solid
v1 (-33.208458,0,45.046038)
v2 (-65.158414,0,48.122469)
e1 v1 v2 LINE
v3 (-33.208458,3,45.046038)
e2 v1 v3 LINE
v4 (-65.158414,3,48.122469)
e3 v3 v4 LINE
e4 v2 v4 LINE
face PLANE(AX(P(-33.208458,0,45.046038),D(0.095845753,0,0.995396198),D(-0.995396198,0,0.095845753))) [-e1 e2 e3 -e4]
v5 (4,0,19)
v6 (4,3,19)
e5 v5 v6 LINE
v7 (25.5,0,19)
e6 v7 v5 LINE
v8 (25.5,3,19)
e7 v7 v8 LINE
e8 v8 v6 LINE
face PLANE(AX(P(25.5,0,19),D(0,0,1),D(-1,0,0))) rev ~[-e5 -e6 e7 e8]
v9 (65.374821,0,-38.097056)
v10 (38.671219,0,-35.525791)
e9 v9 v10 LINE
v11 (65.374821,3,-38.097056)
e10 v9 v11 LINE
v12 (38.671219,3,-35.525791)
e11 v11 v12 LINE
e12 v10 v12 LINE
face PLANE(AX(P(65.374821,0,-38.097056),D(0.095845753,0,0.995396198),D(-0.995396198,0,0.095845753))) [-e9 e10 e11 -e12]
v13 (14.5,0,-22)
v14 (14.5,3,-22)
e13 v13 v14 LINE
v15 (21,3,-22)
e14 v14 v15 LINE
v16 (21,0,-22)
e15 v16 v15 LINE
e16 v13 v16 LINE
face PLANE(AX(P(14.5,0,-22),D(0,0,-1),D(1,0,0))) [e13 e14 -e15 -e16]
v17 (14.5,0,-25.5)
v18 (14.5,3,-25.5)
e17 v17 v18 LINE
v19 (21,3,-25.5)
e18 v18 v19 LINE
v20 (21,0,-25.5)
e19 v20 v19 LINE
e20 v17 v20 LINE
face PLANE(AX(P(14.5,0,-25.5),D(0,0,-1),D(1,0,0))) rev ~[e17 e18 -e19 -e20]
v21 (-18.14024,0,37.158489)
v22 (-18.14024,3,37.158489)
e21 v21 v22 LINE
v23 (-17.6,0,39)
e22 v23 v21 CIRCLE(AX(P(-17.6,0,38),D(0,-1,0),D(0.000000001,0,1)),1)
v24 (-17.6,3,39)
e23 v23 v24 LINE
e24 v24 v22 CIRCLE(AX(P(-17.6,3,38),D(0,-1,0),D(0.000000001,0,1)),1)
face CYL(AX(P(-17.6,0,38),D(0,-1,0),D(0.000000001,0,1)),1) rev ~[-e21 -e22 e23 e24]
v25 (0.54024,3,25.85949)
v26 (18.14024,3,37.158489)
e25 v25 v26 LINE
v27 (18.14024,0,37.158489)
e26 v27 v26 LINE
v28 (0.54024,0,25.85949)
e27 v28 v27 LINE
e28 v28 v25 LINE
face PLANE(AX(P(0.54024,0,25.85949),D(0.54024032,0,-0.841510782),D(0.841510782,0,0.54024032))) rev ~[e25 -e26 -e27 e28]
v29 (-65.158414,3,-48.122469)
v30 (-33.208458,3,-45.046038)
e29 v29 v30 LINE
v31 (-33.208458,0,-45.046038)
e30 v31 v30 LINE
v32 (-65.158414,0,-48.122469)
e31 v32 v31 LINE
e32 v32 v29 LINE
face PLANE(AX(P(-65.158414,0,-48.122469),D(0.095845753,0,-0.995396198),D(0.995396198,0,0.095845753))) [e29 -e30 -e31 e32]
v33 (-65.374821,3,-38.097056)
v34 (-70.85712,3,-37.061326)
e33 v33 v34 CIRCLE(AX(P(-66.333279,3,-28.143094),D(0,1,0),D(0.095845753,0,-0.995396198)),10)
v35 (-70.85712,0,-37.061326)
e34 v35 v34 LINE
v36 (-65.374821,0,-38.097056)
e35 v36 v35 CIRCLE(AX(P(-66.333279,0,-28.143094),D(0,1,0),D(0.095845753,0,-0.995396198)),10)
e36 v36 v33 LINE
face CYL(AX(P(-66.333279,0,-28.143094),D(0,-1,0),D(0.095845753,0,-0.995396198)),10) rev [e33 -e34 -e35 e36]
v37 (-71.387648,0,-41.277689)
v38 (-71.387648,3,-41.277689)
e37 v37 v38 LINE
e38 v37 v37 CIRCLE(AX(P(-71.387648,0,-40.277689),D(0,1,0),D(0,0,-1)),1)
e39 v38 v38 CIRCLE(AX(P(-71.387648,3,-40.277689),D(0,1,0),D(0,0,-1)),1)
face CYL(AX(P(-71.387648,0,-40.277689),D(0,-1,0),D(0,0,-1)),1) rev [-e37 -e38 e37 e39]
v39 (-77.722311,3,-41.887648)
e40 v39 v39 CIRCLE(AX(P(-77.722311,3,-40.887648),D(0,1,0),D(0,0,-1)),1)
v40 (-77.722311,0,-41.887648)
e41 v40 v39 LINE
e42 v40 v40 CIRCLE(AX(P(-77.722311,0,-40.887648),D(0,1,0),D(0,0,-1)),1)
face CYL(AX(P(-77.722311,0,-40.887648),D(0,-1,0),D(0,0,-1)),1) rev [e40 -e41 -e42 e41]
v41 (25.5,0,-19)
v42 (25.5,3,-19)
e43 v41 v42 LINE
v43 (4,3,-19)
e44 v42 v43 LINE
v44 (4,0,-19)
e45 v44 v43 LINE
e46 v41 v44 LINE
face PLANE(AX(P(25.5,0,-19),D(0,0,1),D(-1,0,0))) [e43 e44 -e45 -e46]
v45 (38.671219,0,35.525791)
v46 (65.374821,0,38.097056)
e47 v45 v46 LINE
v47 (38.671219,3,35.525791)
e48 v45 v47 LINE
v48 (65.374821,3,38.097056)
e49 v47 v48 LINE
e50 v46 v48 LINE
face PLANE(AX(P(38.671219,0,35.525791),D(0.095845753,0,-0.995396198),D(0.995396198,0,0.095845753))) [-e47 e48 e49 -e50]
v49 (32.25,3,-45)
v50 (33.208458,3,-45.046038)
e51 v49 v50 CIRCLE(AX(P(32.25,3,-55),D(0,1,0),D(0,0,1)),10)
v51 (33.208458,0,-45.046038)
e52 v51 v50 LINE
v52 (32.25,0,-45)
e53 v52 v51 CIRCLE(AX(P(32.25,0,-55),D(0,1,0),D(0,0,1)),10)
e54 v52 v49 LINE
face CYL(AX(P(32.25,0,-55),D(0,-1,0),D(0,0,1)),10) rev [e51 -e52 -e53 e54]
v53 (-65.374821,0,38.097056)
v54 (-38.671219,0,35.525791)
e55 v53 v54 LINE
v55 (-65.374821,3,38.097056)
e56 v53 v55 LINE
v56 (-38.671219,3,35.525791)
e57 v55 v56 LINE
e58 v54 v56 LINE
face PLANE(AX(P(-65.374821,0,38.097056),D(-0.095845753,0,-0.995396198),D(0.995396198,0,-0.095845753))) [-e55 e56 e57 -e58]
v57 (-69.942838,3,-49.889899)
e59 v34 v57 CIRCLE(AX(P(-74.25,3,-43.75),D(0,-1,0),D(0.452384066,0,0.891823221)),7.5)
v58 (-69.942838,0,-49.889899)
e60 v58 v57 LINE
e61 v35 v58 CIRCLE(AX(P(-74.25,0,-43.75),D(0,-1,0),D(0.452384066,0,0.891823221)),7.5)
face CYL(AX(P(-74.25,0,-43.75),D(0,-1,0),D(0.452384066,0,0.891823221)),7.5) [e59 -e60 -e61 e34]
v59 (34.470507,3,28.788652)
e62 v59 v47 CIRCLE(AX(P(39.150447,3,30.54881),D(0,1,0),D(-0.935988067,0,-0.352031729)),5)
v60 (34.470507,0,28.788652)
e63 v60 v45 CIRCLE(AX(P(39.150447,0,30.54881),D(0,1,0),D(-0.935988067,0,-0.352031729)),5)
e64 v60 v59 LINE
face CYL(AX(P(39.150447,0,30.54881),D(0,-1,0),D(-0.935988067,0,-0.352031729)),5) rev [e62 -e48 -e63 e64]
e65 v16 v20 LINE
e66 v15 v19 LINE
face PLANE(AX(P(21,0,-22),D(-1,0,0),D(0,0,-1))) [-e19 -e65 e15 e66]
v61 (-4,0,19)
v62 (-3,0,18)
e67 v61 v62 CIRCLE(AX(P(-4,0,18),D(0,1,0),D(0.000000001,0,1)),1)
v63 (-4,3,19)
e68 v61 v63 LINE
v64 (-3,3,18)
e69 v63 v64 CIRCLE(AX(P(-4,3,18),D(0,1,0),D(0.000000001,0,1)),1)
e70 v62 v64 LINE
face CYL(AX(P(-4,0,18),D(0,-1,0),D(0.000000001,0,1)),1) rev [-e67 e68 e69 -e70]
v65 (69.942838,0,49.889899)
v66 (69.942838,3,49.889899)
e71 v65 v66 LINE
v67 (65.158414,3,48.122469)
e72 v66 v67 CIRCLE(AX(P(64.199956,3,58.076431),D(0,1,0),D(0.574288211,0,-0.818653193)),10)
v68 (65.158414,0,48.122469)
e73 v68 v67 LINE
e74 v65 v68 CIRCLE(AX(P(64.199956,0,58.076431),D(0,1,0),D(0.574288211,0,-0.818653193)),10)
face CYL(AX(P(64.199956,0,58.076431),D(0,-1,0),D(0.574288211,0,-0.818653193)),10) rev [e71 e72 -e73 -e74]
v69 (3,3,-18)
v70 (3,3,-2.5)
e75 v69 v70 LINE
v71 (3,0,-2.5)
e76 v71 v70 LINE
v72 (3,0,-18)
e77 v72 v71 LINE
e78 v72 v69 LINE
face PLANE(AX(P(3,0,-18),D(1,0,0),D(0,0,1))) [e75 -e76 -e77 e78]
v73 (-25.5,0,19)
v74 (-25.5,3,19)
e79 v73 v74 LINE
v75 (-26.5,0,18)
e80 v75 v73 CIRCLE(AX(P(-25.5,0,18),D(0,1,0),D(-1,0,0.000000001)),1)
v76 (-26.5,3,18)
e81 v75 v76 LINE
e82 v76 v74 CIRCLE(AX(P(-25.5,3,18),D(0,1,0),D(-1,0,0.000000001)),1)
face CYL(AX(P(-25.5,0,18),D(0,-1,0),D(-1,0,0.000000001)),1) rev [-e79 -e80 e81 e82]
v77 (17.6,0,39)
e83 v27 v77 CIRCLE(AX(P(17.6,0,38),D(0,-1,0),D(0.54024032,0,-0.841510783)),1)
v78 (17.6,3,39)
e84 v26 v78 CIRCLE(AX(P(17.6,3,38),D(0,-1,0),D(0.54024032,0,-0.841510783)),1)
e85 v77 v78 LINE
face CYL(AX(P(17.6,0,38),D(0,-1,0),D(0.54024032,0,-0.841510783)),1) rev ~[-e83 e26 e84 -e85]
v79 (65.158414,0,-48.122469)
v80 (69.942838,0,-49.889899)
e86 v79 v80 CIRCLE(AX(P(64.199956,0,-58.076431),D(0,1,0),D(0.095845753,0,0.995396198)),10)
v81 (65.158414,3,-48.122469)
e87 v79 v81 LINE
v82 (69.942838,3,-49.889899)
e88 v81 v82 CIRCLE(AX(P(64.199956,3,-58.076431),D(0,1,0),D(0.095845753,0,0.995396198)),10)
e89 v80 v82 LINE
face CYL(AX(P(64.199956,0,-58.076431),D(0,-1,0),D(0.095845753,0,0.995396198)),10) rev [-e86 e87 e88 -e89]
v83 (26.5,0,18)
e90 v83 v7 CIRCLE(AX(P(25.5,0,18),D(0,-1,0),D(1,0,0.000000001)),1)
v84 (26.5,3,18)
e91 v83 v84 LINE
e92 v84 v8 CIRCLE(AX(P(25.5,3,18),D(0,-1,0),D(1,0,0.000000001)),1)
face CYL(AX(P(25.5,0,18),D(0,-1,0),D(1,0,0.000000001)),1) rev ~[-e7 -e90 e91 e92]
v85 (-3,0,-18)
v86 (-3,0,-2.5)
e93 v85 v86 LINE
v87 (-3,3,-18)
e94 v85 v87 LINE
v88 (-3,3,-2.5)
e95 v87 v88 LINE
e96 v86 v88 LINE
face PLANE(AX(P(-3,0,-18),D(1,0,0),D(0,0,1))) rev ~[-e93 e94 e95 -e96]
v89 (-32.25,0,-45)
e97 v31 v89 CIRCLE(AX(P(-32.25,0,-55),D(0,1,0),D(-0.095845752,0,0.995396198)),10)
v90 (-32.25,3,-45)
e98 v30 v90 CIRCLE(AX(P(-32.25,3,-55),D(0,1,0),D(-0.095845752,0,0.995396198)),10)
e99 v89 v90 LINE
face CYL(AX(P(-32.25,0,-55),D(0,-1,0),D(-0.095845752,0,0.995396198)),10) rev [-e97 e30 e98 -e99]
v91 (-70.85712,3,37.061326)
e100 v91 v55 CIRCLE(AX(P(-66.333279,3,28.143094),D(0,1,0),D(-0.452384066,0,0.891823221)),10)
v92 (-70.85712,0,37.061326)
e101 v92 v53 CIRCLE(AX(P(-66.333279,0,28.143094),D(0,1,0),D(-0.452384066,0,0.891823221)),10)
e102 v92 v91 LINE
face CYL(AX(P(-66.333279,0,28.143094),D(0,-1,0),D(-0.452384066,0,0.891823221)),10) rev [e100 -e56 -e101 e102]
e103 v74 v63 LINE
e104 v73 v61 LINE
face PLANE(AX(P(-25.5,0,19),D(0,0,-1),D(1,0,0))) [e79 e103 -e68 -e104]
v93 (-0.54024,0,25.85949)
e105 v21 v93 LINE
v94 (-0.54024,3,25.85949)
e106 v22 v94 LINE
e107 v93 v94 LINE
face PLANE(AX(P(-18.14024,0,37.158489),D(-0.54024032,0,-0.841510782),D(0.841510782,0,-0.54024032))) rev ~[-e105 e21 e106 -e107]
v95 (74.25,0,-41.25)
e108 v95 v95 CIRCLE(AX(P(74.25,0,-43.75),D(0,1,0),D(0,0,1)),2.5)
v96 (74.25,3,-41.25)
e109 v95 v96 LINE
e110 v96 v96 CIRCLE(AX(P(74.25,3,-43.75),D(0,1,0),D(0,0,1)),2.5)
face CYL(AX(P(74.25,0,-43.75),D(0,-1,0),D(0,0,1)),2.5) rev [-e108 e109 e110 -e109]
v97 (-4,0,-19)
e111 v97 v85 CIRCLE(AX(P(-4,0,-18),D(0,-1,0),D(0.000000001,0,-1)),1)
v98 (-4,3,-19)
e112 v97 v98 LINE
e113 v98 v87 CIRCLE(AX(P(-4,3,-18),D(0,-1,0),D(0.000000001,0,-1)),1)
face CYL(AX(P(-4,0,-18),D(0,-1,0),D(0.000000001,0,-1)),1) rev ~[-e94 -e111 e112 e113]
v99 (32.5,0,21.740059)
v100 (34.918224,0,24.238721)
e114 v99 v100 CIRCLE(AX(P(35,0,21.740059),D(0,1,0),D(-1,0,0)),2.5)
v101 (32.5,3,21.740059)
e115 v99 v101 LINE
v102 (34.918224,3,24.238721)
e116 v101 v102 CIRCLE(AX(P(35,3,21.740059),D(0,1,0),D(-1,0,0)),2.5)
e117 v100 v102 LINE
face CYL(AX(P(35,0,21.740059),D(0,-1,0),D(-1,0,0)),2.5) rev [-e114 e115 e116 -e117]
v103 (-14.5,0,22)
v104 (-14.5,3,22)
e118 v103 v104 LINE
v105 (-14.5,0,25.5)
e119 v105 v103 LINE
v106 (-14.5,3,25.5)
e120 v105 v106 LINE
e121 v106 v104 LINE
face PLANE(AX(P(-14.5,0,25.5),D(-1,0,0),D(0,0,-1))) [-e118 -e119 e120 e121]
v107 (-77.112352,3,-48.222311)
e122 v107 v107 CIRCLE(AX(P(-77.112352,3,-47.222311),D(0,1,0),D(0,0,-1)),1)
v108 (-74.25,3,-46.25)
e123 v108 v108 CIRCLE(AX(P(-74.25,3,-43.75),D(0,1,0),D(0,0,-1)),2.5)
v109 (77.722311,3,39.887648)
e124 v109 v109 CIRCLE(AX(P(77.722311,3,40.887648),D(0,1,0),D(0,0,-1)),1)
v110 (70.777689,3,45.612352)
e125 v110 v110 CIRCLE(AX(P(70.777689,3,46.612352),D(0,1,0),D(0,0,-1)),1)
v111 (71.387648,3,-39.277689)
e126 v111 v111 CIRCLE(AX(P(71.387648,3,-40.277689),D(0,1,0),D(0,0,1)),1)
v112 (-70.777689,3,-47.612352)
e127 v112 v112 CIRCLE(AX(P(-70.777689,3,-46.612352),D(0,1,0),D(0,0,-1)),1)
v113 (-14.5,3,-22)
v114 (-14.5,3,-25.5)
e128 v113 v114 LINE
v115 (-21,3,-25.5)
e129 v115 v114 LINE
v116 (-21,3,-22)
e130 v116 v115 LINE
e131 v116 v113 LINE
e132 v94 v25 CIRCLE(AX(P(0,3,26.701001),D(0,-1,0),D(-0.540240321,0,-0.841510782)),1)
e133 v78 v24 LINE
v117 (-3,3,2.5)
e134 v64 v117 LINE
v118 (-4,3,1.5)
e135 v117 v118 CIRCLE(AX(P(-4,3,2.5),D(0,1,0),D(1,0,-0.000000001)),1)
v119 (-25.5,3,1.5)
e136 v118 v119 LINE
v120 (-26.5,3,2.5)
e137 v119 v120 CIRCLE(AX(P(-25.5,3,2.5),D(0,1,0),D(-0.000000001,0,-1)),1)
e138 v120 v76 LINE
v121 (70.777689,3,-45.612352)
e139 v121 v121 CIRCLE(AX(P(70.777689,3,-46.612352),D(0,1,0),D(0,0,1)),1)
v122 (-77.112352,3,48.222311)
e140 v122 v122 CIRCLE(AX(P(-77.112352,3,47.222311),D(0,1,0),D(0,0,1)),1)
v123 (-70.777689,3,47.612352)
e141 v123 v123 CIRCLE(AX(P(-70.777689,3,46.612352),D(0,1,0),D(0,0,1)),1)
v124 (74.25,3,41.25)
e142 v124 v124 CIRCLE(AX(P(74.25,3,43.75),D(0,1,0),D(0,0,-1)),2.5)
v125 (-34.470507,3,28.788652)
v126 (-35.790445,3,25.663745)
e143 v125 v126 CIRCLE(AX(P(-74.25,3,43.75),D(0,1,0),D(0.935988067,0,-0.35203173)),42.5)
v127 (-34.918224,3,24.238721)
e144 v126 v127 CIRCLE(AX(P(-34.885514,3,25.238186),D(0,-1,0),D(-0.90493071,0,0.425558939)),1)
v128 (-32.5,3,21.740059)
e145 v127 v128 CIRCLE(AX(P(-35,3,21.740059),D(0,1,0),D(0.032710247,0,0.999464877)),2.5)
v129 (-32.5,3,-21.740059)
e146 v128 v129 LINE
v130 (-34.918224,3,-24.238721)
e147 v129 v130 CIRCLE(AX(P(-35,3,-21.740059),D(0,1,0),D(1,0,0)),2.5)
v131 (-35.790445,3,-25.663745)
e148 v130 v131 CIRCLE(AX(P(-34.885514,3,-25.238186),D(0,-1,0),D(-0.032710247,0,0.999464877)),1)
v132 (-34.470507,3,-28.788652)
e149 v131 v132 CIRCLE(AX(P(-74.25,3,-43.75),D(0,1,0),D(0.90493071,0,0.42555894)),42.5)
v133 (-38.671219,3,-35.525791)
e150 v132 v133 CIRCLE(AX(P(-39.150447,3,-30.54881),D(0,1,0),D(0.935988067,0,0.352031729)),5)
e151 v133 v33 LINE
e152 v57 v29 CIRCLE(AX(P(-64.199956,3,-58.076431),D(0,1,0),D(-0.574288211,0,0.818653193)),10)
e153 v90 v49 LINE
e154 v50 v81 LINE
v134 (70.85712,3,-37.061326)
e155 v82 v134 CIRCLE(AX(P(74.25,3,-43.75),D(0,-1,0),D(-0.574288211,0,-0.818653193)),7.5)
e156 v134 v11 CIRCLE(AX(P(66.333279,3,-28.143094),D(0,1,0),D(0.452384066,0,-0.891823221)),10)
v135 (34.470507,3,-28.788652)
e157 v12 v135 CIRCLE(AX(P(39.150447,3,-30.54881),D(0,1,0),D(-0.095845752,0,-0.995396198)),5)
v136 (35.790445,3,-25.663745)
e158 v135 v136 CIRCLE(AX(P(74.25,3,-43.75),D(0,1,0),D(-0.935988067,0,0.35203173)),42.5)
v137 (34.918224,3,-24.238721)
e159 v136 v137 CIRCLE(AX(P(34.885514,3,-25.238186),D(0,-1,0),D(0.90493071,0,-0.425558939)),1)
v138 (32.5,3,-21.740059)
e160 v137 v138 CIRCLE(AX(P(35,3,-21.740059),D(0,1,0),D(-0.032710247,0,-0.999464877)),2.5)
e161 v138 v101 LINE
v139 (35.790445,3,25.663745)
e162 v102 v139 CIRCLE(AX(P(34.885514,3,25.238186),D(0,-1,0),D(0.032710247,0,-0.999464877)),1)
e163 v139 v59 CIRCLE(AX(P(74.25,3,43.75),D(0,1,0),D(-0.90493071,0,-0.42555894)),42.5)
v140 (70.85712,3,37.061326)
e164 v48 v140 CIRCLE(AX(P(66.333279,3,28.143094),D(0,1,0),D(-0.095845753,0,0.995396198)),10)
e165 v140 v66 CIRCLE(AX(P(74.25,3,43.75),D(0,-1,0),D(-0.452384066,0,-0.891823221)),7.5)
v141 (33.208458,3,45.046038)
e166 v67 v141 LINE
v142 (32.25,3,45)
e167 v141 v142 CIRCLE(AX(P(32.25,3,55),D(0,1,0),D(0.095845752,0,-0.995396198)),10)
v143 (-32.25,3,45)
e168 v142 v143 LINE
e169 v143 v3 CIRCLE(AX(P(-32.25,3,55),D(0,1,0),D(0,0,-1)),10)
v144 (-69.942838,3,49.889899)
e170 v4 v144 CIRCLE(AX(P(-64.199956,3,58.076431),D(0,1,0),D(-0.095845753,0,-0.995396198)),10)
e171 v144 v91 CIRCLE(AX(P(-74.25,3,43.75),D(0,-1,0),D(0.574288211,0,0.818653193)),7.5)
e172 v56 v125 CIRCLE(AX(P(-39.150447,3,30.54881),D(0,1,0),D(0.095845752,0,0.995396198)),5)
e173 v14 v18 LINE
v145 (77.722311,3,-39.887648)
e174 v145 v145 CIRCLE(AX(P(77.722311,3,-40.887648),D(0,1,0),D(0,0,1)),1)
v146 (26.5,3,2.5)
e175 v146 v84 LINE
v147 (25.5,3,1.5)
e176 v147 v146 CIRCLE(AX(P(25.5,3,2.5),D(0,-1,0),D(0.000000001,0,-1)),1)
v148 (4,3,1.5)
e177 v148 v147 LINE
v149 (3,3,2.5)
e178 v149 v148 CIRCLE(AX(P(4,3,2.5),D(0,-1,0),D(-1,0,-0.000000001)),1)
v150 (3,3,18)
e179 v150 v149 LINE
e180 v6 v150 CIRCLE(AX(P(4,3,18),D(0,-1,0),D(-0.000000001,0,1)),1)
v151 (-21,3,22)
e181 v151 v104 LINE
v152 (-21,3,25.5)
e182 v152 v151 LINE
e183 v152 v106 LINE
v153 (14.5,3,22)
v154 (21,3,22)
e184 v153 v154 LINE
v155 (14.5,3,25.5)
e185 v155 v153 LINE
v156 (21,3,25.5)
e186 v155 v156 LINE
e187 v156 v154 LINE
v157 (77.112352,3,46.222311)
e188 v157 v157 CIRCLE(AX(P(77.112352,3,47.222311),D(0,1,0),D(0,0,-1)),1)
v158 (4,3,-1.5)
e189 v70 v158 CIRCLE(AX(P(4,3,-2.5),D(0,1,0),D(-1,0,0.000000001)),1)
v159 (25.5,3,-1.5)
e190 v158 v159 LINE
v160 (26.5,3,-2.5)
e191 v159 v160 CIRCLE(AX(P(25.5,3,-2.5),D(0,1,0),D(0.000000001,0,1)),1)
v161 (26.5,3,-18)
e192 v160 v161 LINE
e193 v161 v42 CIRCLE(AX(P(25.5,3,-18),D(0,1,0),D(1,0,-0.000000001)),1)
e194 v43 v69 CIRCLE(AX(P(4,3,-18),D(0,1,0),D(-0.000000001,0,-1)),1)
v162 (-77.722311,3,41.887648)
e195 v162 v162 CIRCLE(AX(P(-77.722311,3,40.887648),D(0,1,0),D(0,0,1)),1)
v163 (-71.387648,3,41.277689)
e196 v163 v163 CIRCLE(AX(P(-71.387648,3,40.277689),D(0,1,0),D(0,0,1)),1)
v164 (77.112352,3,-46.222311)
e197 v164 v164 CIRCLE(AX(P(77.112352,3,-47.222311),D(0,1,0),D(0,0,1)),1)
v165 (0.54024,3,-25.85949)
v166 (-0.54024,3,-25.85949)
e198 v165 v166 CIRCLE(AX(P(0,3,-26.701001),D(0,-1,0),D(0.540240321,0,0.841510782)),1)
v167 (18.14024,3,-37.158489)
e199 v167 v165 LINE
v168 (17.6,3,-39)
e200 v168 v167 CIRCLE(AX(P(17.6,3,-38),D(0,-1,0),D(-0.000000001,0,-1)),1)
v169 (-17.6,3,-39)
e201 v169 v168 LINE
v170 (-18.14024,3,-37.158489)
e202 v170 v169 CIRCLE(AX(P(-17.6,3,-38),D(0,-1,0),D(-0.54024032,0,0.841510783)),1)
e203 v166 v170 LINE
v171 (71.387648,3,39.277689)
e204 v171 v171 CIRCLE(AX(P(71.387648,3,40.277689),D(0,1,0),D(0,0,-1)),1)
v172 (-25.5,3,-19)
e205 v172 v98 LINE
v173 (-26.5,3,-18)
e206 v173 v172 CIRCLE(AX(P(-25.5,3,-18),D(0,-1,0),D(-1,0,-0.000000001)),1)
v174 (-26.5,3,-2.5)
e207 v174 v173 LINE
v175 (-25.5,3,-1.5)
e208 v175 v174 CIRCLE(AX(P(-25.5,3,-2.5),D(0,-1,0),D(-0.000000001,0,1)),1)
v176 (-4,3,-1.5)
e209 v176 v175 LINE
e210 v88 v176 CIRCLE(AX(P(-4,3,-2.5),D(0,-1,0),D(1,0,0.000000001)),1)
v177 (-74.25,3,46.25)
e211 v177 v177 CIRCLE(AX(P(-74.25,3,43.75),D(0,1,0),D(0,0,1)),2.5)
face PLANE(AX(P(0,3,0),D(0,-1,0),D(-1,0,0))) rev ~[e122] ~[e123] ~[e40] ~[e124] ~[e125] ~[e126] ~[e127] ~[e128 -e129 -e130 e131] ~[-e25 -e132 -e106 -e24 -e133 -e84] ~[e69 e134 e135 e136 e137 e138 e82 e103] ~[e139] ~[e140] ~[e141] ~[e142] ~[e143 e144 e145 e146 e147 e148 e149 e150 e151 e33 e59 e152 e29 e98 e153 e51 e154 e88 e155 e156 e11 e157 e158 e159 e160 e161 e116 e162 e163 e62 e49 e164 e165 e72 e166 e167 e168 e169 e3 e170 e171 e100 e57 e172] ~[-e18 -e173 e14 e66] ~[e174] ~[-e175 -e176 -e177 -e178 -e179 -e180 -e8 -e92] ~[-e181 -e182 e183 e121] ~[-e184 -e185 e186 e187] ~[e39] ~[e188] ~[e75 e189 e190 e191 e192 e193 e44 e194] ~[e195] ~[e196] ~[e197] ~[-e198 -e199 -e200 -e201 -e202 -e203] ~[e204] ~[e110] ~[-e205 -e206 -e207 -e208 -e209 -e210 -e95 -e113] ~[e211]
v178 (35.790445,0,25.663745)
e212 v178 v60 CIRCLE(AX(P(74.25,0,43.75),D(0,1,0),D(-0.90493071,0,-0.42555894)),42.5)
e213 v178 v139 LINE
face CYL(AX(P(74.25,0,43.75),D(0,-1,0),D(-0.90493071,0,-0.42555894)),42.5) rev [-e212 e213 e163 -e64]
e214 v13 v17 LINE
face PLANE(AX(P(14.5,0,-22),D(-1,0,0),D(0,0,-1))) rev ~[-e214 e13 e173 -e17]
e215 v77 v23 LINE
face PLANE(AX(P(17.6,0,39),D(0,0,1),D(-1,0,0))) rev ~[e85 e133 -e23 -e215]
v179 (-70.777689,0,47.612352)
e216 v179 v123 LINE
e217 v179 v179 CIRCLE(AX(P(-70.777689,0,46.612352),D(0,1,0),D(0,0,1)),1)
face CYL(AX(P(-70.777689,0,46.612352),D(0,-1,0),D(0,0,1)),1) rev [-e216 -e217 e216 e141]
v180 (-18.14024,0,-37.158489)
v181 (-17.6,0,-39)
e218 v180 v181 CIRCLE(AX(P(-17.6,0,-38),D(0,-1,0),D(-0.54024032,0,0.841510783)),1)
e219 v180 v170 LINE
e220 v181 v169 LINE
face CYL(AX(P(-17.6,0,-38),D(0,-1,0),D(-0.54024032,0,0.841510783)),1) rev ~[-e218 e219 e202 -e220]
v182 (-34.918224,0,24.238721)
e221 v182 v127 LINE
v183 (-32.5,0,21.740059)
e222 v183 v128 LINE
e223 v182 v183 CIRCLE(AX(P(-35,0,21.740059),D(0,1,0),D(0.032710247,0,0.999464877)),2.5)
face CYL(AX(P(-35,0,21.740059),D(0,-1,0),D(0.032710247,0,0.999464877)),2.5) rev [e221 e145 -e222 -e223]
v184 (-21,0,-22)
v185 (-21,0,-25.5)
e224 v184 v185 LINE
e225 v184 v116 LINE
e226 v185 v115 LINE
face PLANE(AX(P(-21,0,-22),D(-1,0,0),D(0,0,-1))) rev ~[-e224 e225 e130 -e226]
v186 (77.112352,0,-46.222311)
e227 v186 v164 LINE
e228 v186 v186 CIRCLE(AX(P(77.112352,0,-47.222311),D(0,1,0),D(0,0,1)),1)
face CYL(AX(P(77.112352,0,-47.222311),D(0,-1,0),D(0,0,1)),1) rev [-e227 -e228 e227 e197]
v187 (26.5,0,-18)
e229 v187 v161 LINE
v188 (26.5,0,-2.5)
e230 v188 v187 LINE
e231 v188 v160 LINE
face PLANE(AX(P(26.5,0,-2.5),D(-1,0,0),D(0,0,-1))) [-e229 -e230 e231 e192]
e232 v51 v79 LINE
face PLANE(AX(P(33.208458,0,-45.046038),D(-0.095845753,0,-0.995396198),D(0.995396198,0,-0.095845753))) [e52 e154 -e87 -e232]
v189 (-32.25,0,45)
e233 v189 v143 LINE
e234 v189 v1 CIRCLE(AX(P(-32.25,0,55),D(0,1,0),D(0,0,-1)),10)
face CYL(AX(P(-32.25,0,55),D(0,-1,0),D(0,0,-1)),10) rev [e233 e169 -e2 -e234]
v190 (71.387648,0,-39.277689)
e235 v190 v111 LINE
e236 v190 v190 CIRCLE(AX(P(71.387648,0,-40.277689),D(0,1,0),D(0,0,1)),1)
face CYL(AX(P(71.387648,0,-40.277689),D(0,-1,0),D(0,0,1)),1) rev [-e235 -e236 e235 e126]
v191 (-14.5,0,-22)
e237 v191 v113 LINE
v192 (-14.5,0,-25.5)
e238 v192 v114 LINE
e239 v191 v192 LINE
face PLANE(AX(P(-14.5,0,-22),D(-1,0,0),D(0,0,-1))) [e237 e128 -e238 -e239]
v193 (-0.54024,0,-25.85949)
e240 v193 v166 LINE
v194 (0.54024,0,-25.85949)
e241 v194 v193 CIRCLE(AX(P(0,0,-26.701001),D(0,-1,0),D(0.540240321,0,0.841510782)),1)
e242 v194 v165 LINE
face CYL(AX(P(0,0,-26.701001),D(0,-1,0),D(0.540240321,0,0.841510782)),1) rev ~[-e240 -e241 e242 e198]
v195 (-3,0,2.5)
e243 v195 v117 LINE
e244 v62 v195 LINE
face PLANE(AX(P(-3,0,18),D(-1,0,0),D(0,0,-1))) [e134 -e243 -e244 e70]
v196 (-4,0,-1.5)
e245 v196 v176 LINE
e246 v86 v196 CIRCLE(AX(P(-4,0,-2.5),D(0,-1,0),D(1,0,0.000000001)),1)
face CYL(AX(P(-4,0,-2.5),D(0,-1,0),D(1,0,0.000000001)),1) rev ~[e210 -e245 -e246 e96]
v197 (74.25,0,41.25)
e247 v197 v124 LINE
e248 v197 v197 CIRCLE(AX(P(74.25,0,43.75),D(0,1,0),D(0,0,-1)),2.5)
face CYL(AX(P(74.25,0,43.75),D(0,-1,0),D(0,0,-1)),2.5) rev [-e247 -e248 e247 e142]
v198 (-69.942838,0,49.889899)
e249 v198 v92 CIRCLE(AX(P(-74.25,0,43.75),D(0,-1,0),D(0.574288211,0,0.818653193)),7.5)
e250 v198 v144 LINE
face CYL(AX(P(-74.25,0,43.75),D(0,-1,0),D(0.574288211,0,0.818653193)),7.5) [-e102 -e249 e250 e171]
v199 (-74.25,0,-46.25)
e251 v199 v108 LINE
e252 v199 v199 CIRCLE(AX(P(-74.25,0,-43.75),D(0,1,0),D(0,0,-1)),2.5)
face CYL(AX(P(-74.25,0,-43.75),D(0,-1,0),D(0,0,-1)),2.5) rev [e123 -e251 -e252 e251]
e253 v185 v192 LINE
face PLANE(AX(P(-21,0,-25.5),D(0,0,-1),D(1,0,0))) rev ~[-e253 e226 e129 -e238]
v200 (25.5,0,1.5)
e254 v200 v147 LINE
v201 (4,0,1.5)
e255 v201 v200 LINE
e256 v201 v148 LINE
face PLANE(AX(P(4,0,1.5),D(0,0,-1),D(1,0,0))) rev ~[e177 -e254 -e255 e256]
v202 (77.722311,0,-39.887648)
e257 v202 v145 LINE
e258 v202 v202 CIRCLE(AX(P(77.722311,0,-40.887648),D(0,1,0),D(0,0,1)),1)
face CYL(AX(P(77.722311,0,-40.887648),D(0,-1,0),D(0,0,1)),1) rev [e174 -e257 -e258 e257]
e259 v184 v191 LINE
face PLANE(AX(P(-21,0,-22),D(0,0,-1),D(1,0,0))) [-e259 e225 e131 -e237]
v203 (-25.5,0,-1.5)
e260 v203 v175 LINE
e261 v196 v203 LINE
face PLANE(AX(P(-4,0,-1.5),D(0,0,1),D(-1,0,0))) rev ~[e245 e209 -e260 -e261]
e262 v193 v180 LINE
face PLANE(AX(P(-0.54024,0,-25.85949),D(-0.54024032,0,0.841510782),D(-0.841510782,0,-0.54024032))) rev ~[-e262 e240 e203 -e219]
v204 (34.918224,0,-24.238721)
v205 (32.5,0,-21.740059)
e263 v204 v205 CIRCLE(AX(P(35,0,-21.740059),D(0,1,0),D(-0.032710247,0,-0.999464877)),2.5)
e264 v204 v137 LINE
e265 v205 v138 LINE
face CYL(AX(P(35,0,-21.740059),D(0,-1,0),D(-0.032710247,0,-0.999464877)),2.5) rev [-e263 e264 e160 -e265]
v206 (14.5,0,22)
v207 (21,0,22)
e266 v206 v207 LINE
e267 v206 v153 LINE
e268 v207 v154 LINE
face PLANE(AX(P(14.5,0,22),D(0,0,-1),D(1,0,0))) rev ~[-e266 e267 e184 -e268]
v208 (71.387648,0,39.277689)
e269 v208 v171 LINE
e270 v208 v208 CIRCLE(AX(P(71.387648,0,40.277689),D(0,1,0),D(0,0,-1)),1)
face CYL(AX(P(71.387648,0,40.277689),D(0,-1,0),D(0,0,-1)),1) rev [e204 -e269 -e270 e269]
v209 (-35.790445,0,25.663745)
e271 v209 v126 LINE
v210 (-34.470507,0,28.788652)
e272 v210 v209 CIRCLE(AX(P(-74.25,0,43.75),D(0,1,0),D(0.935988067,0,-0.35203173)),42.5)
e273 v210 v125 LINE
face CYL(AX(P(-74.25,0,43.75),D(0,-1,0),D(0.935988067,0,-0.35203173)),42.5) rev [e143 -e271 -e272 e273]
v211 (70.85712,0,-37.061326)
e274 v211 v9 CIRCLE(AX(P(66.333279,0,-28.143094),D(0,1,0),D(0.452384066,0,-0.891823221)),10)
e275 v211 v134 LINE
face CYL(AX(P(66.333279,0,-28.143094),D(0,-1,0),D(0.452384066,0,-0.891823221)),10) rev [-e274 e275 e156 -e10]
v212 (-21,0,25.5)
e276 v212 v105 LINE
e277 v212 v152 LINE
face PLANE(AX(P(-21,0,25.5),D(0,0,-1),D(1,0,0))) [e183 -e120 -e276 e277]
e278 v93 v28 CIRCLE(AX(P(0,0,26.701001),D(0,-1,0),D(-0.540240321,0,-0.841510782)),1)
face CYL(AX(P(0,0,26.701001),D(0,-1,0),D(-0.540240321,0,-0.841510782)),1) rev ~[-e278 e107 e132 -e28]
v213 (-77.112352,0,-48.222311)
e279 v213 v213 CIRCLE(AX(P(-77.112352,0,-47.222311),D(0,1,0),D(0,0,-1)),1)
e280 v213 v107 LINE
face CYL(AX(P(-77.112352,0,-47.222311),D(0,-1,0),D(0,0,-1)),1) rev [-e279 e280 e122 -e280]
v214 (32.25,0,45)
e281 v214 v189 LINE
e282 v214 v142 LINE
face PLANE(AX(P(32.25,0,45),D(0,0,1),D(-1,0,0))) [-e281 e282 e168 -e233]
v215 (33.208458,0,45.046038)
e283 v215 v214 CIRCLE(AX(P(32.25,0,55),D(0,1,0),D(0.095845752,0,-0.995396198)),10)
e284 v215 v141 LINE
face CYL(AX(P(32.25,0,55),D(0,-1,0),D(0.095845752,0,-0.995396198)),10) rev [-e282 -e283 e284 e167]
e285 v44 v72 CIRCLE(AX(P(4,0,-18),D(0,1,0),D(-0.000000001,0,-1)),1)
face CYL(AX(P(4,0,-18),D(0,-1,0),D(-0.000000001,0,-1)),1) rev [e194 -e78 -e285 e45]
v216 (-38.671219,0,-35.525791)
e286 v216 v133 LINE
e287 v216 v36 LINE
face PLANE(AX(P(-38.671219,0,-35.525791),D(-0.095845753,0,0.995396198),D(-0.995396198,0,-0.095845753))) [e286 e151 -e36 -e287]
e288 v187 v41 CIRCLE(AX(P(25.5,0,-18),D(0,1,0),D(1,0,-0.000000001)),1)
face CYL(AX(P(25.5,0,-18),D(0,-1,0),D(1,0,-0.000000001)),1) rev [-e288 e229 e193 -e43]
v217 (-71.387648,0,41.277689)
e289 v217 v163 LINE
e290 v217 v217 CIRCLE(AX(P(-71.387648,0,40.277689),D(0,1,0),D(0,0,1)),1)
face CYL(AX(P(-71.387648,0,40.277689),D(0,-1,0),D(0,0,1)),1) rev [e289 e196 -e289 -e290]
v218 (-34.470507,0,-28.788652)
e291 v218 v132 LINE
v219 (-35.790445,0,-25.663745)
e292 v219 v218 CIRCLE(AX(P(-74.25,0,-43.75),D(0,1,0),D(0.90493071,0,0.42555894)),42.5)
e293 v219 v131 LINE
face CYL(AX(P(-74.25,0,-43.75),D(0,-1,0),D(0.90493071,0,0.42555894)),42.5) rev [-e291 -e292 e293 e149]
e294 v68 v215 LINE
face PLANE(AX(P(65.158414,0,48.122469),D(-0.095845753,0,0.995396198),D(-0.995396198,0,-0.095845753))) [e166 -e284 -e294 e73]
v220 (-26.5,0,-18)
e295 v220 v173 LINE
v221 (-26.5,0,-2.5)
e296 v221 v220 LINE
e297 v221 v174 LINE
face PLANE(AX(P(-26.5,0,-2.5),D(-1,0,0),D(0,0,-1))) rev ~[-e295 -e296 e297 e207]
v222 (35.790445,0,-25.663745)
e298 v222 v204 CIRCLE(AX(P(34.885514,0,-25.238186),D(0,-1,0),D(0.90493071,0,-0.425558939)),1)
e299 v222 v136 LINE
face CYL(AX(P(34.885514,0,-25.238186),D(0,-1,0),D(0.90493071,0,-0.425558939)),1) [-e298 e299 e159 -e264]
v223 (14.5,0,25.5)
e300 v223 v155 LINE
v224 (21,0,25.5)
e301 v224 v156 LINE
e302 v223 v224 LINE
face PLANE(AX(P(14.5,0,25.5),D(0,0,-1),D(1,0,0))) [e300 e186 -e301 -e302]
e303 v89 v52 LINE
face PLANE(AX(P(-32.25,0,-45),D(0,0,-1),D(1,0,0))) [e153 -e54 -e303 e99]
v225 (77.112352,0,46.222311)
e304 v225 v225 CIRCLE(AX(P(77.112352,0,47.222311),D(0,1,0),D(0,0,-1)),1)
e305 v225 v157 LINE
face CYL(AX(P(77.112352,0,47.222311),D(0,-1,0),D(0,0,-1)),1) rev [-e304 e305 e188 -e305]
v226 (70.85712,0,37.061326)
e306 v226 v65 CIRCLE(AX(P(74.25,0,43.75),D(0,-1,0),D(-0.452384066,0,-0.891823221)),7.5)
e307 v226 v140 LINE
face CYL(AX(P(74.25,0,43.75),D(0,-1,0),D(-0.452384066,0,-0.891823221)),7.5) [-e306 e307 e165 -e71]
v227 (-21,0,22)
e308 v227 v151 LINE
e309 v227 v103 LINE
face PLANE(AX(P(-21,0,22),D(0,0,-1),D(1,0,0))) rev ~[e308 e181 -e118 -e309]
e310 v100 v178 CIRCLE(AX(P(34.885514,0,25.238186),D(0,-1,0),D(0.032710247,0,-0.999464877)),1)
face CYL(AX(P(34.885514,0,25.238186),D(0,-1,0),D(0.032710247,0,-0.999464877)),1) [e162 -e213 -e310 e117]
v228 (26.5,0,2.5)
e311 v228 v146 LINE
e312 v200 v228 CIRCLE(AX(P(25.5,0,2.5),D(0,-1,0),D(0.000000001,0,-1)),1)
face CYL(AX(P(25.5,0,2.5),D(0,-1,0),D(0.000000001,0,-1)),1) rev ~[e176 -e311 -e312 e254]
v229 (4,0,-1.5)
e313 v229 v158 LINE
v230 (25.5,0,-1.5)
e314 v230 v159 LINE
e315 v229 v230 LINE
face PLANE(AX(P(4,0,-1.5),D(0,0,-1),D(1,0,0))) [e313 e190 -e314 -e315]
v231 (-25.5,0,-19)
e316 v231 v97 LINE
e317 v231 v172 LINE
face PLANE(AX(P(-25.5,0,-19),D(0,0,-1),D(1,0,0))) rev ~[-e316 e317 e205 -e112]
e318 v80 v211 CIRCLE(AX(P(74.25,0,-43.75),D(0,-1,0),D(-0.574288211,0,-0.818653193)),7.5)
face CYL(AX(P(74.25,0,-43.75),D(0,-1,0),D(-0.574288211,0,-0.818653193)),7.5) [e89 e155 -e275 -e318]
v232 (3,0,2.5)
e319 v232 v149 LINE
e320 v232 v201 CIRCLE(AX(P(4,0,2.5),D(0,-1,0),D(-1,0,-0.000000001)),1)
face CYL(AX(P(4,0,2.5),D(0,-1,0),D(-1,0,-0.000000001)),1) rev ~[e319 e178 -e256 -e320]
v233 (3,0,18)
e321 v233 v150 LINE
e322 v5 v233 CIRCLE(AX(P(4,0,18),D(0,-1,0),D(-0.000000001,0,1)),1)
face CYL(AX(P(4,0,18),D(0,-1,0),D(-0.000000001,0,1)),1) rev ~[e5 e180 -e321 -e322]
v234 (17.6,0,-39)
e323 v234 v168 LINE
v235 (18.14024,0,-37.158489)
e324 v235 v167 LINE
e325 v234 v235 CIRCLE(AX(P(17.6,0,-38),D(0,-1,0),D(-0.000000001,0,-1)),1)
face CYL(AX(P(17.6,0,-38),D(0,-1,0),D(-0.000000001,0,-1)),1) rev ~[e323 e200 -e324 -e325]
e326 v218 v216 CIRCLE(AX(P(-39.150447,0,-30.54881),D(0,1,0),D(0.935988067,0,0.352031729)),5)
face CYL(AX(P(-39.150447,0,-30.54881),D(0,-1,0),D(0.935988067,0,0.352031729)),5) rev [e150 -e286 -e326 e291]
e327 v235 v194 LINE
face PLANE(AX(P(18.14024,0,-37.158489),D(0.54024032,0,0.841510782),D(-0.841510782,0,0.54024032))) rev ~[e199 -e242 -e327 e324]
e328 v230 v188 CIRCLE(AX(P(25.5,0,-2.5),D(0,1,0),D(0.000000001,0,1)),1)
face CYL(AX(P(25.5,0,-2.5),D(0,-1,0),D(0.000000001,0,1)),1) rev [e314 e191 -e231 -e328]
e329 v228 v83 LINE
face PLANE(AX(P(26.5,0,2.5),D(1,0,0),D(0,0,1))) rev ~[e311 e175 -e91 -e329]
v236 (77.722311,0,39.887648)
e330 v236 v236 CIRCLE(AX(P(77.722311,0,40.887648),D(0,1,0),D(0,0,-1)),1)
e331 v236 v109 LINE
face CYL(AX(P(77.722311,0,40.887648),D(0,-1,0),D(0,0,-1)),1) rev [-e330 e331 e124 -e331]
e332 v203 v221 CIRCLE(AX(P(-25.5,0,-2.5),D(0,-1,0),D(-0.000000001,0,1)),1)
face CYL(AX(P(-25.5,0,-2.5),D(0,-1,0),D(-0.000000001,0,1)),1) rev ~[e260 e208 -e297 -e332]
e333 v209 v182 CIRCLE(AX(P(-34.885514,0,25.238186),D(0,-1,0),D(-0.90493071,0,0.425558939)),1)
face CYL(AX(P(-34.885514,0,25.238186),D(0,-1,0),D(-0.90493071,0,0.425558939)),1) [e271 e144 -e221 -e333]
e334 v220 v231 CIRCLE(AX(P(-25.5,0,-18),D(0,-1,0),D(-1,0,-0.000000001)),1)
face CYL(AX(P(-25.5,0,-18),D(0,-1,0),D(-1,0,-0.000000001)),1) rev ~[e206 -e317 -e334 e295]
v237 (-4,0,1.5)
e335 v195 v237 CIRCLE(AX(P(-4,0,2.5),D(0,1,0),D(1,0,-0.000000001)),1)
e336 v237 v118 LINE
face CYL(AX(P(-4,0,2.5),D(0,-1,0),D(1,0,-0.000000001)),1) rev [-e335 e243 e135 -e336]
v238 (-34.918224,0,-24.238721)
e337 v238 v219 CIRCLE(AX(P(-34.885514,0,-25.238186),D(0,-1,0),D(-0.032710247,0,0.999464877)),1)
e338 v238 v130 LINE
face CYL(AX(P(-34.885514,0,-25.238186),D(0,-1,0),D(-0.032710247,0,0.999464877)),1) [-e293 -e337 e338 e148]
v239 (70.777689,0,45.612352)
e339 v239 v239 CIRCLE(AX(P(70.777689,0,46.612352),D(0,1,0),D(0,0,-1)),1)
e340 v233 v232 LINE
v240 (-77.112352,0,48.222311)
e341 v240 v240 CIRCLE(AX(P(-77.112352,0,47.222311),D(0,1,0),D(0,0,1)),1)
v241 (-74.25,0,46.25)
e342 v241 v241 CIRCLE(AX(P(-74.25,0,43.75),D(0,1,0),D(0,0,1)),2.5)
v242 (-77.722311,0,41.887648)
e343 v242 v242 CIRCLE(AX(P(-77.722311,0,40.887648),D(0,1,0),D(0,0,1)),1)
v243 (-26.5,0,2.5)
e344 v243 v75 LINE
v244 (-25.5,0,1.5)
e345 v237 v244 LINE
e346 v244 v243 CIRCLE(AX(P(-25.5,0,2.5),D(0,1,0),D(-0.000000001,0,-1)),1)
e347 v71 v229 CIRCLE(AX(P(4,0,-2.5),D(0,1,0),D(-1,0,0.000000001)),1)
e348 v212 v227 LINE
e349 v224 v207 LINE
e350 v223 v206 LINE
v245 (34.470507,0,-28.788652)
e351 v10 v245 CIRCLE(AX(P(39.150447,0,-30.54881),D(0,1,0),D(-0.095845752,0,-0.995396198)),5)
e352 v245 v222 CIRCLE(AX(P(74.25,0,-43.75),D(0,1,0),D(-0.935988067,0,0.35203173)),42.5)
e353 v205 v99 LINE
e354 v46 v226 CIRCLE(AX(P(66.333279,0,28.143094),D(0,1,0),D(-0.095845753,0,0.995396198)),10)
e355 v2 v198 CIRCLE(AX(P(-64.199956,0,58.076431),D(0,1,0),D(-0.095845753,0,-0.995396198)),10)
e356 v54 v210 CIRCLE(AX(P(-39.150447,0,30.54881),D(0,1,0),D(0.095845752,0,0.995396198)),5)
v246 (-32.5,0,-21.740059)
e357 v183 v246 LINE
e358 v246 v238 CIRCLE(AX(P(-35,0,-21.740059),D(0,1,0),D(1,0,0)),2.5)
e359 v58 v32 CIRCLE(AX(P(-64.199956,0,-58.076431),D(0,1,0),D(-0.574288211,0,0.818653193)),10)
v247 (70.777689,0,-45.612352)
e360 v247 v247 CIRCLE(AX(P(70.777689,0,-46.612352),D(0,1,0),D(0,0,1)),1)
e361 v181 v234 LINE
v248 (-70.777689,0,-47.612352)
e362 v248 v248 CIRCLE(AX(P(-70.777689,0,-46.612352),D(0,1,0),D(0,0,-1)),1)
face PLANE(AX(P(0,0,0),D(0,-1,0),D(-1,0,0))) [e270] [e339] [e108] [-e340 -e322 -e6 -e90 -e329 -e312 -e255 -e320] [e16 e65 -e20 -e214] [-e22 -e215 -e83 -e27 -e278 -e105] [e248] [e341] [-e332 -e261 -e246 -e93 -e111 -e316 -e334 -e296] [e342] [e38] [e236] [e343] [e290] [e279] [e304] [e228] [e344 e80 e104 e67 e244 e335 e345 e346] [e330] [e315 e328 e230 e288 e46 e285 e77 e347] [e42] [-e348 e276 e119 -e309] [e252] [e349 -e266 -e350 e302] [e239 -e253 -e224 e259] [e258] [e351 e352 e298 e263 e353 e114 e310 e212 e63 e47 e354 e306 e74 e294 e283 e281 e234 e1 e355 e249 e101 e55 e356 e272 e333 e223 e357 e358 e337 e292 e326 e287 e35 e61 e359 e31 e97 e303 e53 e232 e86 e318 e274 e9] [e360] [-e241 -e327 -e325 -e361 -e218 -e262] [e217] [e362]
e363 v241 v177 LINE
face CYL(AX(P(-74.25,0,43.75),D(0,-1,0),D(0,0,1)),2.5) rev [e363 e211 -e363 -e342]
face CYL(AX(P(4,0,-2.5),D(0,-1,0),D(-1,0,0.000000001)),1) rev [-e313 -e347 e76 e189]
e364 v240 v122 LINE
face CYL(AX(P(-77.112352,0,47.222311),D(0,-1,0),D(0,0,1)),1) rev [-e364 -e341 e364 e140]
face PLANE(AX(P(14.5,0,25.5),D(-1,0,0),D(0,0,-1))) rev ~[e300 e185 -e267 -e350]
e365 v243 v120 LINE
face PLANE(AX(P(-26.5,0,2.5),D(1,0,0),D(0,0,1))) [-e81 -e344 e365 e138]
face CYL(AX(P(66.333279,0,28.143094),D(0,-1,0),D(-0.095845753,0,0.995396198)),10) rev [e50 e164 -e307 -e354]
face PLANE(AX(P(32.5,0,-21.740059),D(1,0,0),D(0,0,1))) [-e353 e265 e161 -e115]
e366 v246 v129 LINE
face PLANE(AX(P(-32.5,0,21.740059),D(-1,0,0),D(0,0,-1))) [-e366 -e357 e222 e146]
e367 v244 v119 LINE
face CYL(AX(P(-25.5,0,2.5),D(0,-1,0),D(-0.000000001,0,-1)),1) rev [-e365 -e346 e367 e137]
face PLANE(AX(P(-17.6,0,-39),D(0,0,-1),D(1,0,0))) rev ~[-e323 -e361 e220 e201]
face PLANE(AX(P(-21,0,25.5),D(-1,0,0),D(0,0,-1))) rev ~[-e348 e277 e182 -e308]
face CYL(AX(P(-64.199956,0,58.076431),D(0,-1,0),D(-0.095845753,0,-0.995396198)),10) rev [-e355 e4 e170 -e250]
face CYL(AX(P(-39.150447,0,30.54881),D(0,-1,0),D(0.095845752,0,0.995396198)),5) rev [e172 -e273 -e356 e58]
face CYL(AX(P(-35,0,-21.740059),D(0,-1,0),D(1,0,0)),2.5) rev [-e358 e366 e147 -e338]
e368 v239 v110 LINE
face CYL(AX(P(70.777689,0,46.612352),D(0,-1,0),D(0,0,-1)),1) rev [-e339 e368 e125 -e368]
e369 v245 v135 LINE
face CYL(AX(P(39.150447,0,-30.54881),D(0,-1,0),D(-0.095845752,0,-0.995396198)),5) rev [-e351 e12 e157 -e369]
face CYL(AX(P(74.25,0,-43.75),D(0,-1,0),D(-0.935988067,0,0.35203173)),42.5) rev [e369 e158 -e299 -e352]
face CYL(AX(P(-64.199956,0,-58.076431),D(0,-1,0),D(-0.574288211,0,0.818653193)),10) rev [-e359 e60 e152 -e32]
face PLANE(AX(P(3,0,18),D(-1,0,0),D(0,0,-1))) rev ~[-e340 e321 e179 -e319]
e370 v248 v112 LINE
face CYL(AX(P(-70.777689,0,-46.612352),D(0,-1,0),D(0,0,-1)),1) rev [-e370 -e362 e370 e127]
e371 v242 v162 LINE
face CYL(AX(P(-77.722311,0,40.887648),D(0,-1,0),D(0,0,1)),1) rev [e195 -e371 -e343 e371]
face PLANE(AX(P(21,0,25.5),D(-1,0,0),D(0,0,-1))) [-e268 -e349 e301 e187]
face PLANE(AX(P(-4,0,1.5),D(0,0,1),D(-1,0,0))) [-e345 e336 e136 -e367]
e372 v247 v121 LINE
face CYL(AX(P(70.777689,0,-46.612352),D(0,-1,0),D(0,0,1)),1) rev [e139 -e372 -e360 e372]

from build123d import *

# Parameters (mm, degrees)
SKETCH1_R           = 2.5
SKETCH1_R_2         = 1
SKETCH1_W           = 6.5
SKETCH1_H           = 3.5
BOSS_EXTRUDE1_DEPTH = 3


with BuildPart() as part:
    # Sketch1 → Boss-Extrude1 (new body)
    with BuildSketch(Plane(origin=(0, 0, 0), x_dir=(1, 0, 0), z_dir=(0, 1, 0))):
        with BuildLine():
            Line((-32.25, 45), (32.25, 45))
            ThreePointArc((32.25, 45), (32.729781285, 45.011516135), (33.208457525, 45.046038016))
            Line((33.208457525, 45.046038016), (65.158413836, 48.122468899))
            ThreePointArc((65.158413836, 48.122468899), (67.665203844, 48.696022601), (69.942838419, 49.88989895))
            ThreePointArc((69.942838419, 49.88989895), (81.731024928, 44.283166046), (70.857119505, 37.061325846))
            ThreePointArc((70.857119505, 37.061325846), (68.189665999, 37.969274319), (65.374821319, 38.097055623))
            Line((65.374821319, 38.097055623), (38.671218724, 35.525791146))
            ThreePointArc((38.671218724, 35.525791146), (34.907627779, 33.194274373), (34.470507151, 28.788651508))
            ThreePointArc((34.470507151, 28.788651508), (35.099285854, 27.2130238), (35.790444846, 25.663745072))
            ThreePointArc((35.790444846, 25.663745072), (35.738430228, 24.716138108), (34.918224383, 24.238721256))
            ThreePointArc((34.918224383, 24.238721256), (33.203553641, 23.478673593), (32.5, 21.740059064))
            Line((32.5, 21.740059064), (32.5, -21.740059064))
            ThreePointArc((32.5, -21.740059064), (33.203553641, -23.478673593), (34.918224383, -24.238721256))
            ThreePointArc((34.918224383, -24.238721256), (35.738430228, -24.716138108), (35.790444846, -25.663745072))
            ThreePointArc((35.790444846, -25.663745072), (35.099285854, -27.2130238), (34.470507151, -28.788651508))
            ThreePointArc((34.470507151, -28.788651508), (34.907627779, -33.194274373), (38.671218724, -35.525791146))
            Line((38.671218724, -35.525791146), (65.374821319, -38.097055623))
            ThreePointArc((65.374821319, -38.097055623), (68.189665999, -37.969274319), (70.857119505, -37.061325846))
            ThreePointArc((70.857119505, -37.061325846), (81.731024928, -44.283166046), (69.942838419, -49.88989895))
            ThreePointArc((69.942838419, -49.88989895), (67.665203844, -48.696022601), (65.158413836, -48.122468899))
            Line((65.158413836, -48.122468899), (33.208457525, -45.046038016))
            ThreePointArc((33.208457525, -45.046038016), (32.729781285, -45.011516135), (32.25, -45))
            Line((32.25, -45), (-32.25, -45))
            ThreePointArc((-32.25, -45), (-32.729781285, -45.011516135), (-33.208457525, -45.046038016))
            Line((-33.208457525, -45.046038016), (-65.158413836, -48.122468899))
            ThreePointArc((-65.158413836, -48.122468899), (-67.665203844, -48.696022601), (-69.942838419, -49.88989895))
            ThreePointArc((-69.942838419, -49.88989895), (-81.731024928, -44.283166046), (-70.857119505, -37.061325846))
            ThreePointArc((-70.857119505, -37.061325846), (-68.189665999, -37.969274319), (-65.374821319, -38.097055623))
            Line((-65.374821319, -38.097055623), (-38.671218724, -35.525791146))
            ThreePointArc((-38.671218724, -35.525791146), (-34.907627779, -33.194274373), (-34.470507151, -28.788651508))
            ThreePointArc((-34.470507151, -28.788651508), (-35.099285854, -27.2130238), (-35.790444846, -25.663745072))
            ThreePointArc((-35.790444846, -25.663745072), (-35.738430228, -24.716138108), (-34.918224383, -24.238721256))
            ThreePointArc((-34.918224383, -24.238721256), (-33.203553641, -23.478673593), (-32.5, -21.740059064))
            Line((-32.5, -21.740059064), (-32.5, 21.740059064))
            ThreePointArc((-32.5, 21.740059064), (-33.203553641, 23.478673593), (-34.918224383, 24.238721256))
            ThreePointArc((-34.918224383, 24.238721256), (-35.738430228, 24.716138108), (-35.790444846, 25.663745072))
            ThreePointArc((-35.790444846, 25.663745072), (-35.099285854, 27.2130238), (-34.470507151, 28.788651508))
            ThreePointArc((-34.470507151, 28.788651508), (-34.907627779, 33.194274373), (-38.671218724, 35.525791146))
            Line((-38.671218724, 35.525791146), (-65.374821319, 38.097055623))
            ThreePointArc((-65.374821319, 38.097055623), (-68.189665999, 37.969274319), (-70.857119505, 37.061325846))
            ThreePointArc((-70.857119505, 37.061325846), (-81.731024928, 44.283166046), (-69.942838419, 49.88989895))
            ThreePointArc((-69.942838419, 49.88989895), (-67.665203844, 48.696022601), (-65.158413836, 48.122468899))
            Line((-65.158413836, 48.122468899), (-33.208457525, 45.046038016))
            ThreePointArc((-33.208457525, 45.046038016), (-32.729781285, 45.011516135), (-32.25, 45))
        make_face()
        with Locations(Location((74.25, 43.75, 0), (0, 0, 270))):
            Circle(SKETCH1_R, mode=Mode.SUBTRACT)
        with Locations(Location((70.777689375, 46.612351991, 0), (0, 0, 270))):
            Circle(SKETCH1_R_2, mode=Mode.SUBTRACT)
        with Locations(Location((77.112351991, 47.222310625, 0), (0, 0, 270))):
            Circle(SKETCH1_R_2, mode=Mode.SUBTRACT)
        with Locations(Location((77.722310625, 40.887648009, 0), (0, 0, 270))):
            Circle(SKETCH1_R_2, mode=Mode.SUBTRACT)
        with Locations(Location((71.387648009, 40.277689375, 0), (0, 0, 270))):
            Circle(SKETCH1_R_2, mode=Mode.SUBTRACT)
        with Locations(Location((-71.387648009, 40.277689375, 0), (0, 0, 90))):
            Circle(SKETCH1_R_2, mode=Mode.SUBTRACT)
        with Locations(Location((-77.722310625, 40.887648009, 0), (0, 0, 90))):
            Circle(SKETCH1_R_2, mode=Mode.SUBTRACT)
        with Locations(Location((-77.112351991, 47.222310625, 0), (0, 0, 90))):
            Circle(SKETCH1_R_2, mode=Mode.SUBTRACT)
        with Locations(Location((-70.777689375, 46.612351991, 0), (0, 0, 90))):
            Circle(SKETCH1_R_2, mode=Mode.SUBTRACT)
        with Locations(Location((-74.25, 43.75, 0), (0, 0, 90))):
            Circle(SKETCH1_R, mode=Mode.SUBTRACT)
        with Locations(Location((-74.25, -43.75, 0), (0, 0, 270))):
            Circle(SKETCH1_R, mode=Mode.SUBTRACT)
        with Locations(Location((-70.777689375, -46.612351991, 0), (0, 0, 270))):
            Circle(SKETCH1_R_2, mode=Mode.SUBTRACT)
        with Locations(Location((-77.112351991, -47.222310625, 0), (0, 0, 270))):
            Circle(SKETCH1_R_2, mode=Mode.SUBTRACT)
        with Locations(Location((-77.722310625, -40.887648009, 0), (0, 0, 270))):
            Circle(SKETCH1_R_2, mode=Mode.SUBTRACT)
        with Locations(Location((-71.387648009, -40.277689375, 0), (0, 0, 270))):
            Circle(SKETCH1_R_2, mode=Mode.SUBTRACT)
        with Locations(Location((71.387648009, -40.277689375, 0), (0, 0, 90))):
            Circle(SKETCH1_R_2, mode=Mode.SUBTRACT)
        with Locations(Location((77.722310625, -40.887648009, 0), (0, 0, 90))):
            Circle(SKETCH1_R_2, mode=Mode.SUBTRACT)
        with Locations(Location((77.112351991, -47.222310625, 0), (0, 0, 90))):
            Circle(SKETCH1_R_2, mode=Mode.SUBTRACT)
        with Locations(Location((70.777689375, -46.612351991, 0), (0, 0, 90))):
            Circle(SKETCH1_R_2, mode=Mode.SUBTRACT)
        with Locations(Location((74.25, -43.75, 0), (0, 0, 90))):
            Circle(SKETCH1_R, mode=Mode.SUBTRACT)
        with BuildLine():
            Line((-17.6, 39), (17.6, 39))
            ThreePointArc((17.6, 39), (18.559559999, 38.28150419), (18.14024032, 37.158489218))
            Line((18.14024032, 37.158489218), (0.54024032, 25.859490032))
            ThreePointArc((0.54024032, 25.859490032), (0, 25.701000814), (-0.54024032, 25.859490032))
            Line((-0.54024032, 25.859490032), (-18.14024032, 37.158489218))
            ThreePointArc((-18.14024032, 37.158489218), (-18.559559999, 38.28150419), (-17.6, 39))
        make_face(mode=Mode.SUBTRACT)
        with BuildLine():
            Line((4, 1.5), (25.5, 1.5))
            ThreePointArc((25.5, 1.5), (26.207106781, 1.792893219), (26.5, 2.5))
            Line((26.5, 2.5), (26.5, 18))
            ThreePointArc((26.5, 18), (26.207106781, 18.707106781), (25.5, 19))
            Line((25.5, 19), (4, 19))
            ThreePointArc((4, 19), (3.292893219, 18.707106781), (3, 18))
            Line((3, 18), (3, 2.5))
            ThreePointArc((3, 2.5), (3.292893219, 1.792893219), (4, 1.5))
        make_face(mode=Mode.SUBTRACT)
        with Locations((17.75, 23.75)):
            Rectangle(SKETCH1_W, SKETCH1_H, mode=Mode.SUBTRACT)
        with Locations((-17.75, 23.75)):
            Rectangle(SKETCH1_W, SKETCH1_H, mode=Mode.SUBTRACT)
        with BuildLine():
            Line((-26.5, 2.5), (-26.5, 18))
            ThreePointArc((-26.5, 18), (-26.207106781, 18.707106781), (-25.5, 19))
            Line((-25.5, 19), (-4, 19))
            ThreePointArc((-4, 19), (-3.292893219, 18.707106781), (-3, 18))
            Line((-3, 18), (-3, 2.5))
            ThreePointArc((-3, 2.5), (-3.292893219, 1.792893219), (-4, 1.5))
            Line((-4, 1.5), (-25.5, 1.5))
            ThreePointArc((-25.5, 1.5), (-26.207106781, 1.792893219), (-26.5, 2.5))
        make_face(mode=Mode.SUBTRACT)
        with BuildLine():
            Line((-4, -1.5), (-25.5, -1.5))
            ThreePointArc((-25.5, -1.5), (-26.207106781, -1.792893219), (-26.5, -2.5))
            Line((-26.5, -2.5), (-26.5, -18))
            ThreePointArc((-26.5, -18), (-26.207106781, -18.707106781), (-25.5, -19))
            Line((-25.5, -19), (-4, -19))
            ThreePointArc((-4, -19), (-3.292893219, -18.707106781), (-3, -18))
            Line((-3, -18), (-3, -2.5))
            ThreePointArc((-3, -2.5), (-3.292893219, -1.792893219), (-4, -1.5))
        make_face(mode=Mode.SUBTRACT)
        with Locations((-17.75, -23.75)):
            Rectangle(SKETCH1_W, SKETCH1_H, mode=Mode.SUBTRACT)
        with BuildLine():
            Line((-18.14024032, -37.158489218), (-0.54024032, -25.859490032))
            ThreePointArc((-0.54024032, -25.859490032), (0, -25.701000814), (0.54024032, -25.859490032))
            Line((0.54024032, -25.859490032), (18.14024032, -37.158489218))
            ThreePointArc((18.14024032, -37.158489218), (18.559559999, -38.28150419), (17.6, -39))
            Line((17.6, -39), (-17.6, -39))
            ThreePointArc((-17.6, -39), (-18.559559999, -38.28150419), (-18.14024032, -37.158489218))
        make_face(mode=Mode.SUBTRACT)
        with Locations((17.75, -23.75)):
            Rectangle(SKETCH1_W, SKETCH1_H, mode=Mode.SUBTRACT)
        with BuildLine():
            Line((26.5, -2.5), (26.5, -18))
            ThreePointArc((26.5, -18), (26.207106781, -18.707106781), (25.5, -19))
            Line((25.5, -19), (4, -19))
            ThreePointArc((4, -19), (3.292893219, -18.707106781), (3, -18))
            Line((3, -18), (3, -2.5))
            ThreePointArc((3, -2.5), (3.292893219, -1.792893219), (4, -1.5))
            Line((4, -1.5), (25.5, -1.5))
            ThreePointArc((25.5, -1.5), (26.207106781, -1.792893219), (26.5, -2.5))
        make_face(mode=Mode.SUBTRACT)
    extrude(amount=BOSS_EXTRUDE1_DEPTH)


solid = part.part
